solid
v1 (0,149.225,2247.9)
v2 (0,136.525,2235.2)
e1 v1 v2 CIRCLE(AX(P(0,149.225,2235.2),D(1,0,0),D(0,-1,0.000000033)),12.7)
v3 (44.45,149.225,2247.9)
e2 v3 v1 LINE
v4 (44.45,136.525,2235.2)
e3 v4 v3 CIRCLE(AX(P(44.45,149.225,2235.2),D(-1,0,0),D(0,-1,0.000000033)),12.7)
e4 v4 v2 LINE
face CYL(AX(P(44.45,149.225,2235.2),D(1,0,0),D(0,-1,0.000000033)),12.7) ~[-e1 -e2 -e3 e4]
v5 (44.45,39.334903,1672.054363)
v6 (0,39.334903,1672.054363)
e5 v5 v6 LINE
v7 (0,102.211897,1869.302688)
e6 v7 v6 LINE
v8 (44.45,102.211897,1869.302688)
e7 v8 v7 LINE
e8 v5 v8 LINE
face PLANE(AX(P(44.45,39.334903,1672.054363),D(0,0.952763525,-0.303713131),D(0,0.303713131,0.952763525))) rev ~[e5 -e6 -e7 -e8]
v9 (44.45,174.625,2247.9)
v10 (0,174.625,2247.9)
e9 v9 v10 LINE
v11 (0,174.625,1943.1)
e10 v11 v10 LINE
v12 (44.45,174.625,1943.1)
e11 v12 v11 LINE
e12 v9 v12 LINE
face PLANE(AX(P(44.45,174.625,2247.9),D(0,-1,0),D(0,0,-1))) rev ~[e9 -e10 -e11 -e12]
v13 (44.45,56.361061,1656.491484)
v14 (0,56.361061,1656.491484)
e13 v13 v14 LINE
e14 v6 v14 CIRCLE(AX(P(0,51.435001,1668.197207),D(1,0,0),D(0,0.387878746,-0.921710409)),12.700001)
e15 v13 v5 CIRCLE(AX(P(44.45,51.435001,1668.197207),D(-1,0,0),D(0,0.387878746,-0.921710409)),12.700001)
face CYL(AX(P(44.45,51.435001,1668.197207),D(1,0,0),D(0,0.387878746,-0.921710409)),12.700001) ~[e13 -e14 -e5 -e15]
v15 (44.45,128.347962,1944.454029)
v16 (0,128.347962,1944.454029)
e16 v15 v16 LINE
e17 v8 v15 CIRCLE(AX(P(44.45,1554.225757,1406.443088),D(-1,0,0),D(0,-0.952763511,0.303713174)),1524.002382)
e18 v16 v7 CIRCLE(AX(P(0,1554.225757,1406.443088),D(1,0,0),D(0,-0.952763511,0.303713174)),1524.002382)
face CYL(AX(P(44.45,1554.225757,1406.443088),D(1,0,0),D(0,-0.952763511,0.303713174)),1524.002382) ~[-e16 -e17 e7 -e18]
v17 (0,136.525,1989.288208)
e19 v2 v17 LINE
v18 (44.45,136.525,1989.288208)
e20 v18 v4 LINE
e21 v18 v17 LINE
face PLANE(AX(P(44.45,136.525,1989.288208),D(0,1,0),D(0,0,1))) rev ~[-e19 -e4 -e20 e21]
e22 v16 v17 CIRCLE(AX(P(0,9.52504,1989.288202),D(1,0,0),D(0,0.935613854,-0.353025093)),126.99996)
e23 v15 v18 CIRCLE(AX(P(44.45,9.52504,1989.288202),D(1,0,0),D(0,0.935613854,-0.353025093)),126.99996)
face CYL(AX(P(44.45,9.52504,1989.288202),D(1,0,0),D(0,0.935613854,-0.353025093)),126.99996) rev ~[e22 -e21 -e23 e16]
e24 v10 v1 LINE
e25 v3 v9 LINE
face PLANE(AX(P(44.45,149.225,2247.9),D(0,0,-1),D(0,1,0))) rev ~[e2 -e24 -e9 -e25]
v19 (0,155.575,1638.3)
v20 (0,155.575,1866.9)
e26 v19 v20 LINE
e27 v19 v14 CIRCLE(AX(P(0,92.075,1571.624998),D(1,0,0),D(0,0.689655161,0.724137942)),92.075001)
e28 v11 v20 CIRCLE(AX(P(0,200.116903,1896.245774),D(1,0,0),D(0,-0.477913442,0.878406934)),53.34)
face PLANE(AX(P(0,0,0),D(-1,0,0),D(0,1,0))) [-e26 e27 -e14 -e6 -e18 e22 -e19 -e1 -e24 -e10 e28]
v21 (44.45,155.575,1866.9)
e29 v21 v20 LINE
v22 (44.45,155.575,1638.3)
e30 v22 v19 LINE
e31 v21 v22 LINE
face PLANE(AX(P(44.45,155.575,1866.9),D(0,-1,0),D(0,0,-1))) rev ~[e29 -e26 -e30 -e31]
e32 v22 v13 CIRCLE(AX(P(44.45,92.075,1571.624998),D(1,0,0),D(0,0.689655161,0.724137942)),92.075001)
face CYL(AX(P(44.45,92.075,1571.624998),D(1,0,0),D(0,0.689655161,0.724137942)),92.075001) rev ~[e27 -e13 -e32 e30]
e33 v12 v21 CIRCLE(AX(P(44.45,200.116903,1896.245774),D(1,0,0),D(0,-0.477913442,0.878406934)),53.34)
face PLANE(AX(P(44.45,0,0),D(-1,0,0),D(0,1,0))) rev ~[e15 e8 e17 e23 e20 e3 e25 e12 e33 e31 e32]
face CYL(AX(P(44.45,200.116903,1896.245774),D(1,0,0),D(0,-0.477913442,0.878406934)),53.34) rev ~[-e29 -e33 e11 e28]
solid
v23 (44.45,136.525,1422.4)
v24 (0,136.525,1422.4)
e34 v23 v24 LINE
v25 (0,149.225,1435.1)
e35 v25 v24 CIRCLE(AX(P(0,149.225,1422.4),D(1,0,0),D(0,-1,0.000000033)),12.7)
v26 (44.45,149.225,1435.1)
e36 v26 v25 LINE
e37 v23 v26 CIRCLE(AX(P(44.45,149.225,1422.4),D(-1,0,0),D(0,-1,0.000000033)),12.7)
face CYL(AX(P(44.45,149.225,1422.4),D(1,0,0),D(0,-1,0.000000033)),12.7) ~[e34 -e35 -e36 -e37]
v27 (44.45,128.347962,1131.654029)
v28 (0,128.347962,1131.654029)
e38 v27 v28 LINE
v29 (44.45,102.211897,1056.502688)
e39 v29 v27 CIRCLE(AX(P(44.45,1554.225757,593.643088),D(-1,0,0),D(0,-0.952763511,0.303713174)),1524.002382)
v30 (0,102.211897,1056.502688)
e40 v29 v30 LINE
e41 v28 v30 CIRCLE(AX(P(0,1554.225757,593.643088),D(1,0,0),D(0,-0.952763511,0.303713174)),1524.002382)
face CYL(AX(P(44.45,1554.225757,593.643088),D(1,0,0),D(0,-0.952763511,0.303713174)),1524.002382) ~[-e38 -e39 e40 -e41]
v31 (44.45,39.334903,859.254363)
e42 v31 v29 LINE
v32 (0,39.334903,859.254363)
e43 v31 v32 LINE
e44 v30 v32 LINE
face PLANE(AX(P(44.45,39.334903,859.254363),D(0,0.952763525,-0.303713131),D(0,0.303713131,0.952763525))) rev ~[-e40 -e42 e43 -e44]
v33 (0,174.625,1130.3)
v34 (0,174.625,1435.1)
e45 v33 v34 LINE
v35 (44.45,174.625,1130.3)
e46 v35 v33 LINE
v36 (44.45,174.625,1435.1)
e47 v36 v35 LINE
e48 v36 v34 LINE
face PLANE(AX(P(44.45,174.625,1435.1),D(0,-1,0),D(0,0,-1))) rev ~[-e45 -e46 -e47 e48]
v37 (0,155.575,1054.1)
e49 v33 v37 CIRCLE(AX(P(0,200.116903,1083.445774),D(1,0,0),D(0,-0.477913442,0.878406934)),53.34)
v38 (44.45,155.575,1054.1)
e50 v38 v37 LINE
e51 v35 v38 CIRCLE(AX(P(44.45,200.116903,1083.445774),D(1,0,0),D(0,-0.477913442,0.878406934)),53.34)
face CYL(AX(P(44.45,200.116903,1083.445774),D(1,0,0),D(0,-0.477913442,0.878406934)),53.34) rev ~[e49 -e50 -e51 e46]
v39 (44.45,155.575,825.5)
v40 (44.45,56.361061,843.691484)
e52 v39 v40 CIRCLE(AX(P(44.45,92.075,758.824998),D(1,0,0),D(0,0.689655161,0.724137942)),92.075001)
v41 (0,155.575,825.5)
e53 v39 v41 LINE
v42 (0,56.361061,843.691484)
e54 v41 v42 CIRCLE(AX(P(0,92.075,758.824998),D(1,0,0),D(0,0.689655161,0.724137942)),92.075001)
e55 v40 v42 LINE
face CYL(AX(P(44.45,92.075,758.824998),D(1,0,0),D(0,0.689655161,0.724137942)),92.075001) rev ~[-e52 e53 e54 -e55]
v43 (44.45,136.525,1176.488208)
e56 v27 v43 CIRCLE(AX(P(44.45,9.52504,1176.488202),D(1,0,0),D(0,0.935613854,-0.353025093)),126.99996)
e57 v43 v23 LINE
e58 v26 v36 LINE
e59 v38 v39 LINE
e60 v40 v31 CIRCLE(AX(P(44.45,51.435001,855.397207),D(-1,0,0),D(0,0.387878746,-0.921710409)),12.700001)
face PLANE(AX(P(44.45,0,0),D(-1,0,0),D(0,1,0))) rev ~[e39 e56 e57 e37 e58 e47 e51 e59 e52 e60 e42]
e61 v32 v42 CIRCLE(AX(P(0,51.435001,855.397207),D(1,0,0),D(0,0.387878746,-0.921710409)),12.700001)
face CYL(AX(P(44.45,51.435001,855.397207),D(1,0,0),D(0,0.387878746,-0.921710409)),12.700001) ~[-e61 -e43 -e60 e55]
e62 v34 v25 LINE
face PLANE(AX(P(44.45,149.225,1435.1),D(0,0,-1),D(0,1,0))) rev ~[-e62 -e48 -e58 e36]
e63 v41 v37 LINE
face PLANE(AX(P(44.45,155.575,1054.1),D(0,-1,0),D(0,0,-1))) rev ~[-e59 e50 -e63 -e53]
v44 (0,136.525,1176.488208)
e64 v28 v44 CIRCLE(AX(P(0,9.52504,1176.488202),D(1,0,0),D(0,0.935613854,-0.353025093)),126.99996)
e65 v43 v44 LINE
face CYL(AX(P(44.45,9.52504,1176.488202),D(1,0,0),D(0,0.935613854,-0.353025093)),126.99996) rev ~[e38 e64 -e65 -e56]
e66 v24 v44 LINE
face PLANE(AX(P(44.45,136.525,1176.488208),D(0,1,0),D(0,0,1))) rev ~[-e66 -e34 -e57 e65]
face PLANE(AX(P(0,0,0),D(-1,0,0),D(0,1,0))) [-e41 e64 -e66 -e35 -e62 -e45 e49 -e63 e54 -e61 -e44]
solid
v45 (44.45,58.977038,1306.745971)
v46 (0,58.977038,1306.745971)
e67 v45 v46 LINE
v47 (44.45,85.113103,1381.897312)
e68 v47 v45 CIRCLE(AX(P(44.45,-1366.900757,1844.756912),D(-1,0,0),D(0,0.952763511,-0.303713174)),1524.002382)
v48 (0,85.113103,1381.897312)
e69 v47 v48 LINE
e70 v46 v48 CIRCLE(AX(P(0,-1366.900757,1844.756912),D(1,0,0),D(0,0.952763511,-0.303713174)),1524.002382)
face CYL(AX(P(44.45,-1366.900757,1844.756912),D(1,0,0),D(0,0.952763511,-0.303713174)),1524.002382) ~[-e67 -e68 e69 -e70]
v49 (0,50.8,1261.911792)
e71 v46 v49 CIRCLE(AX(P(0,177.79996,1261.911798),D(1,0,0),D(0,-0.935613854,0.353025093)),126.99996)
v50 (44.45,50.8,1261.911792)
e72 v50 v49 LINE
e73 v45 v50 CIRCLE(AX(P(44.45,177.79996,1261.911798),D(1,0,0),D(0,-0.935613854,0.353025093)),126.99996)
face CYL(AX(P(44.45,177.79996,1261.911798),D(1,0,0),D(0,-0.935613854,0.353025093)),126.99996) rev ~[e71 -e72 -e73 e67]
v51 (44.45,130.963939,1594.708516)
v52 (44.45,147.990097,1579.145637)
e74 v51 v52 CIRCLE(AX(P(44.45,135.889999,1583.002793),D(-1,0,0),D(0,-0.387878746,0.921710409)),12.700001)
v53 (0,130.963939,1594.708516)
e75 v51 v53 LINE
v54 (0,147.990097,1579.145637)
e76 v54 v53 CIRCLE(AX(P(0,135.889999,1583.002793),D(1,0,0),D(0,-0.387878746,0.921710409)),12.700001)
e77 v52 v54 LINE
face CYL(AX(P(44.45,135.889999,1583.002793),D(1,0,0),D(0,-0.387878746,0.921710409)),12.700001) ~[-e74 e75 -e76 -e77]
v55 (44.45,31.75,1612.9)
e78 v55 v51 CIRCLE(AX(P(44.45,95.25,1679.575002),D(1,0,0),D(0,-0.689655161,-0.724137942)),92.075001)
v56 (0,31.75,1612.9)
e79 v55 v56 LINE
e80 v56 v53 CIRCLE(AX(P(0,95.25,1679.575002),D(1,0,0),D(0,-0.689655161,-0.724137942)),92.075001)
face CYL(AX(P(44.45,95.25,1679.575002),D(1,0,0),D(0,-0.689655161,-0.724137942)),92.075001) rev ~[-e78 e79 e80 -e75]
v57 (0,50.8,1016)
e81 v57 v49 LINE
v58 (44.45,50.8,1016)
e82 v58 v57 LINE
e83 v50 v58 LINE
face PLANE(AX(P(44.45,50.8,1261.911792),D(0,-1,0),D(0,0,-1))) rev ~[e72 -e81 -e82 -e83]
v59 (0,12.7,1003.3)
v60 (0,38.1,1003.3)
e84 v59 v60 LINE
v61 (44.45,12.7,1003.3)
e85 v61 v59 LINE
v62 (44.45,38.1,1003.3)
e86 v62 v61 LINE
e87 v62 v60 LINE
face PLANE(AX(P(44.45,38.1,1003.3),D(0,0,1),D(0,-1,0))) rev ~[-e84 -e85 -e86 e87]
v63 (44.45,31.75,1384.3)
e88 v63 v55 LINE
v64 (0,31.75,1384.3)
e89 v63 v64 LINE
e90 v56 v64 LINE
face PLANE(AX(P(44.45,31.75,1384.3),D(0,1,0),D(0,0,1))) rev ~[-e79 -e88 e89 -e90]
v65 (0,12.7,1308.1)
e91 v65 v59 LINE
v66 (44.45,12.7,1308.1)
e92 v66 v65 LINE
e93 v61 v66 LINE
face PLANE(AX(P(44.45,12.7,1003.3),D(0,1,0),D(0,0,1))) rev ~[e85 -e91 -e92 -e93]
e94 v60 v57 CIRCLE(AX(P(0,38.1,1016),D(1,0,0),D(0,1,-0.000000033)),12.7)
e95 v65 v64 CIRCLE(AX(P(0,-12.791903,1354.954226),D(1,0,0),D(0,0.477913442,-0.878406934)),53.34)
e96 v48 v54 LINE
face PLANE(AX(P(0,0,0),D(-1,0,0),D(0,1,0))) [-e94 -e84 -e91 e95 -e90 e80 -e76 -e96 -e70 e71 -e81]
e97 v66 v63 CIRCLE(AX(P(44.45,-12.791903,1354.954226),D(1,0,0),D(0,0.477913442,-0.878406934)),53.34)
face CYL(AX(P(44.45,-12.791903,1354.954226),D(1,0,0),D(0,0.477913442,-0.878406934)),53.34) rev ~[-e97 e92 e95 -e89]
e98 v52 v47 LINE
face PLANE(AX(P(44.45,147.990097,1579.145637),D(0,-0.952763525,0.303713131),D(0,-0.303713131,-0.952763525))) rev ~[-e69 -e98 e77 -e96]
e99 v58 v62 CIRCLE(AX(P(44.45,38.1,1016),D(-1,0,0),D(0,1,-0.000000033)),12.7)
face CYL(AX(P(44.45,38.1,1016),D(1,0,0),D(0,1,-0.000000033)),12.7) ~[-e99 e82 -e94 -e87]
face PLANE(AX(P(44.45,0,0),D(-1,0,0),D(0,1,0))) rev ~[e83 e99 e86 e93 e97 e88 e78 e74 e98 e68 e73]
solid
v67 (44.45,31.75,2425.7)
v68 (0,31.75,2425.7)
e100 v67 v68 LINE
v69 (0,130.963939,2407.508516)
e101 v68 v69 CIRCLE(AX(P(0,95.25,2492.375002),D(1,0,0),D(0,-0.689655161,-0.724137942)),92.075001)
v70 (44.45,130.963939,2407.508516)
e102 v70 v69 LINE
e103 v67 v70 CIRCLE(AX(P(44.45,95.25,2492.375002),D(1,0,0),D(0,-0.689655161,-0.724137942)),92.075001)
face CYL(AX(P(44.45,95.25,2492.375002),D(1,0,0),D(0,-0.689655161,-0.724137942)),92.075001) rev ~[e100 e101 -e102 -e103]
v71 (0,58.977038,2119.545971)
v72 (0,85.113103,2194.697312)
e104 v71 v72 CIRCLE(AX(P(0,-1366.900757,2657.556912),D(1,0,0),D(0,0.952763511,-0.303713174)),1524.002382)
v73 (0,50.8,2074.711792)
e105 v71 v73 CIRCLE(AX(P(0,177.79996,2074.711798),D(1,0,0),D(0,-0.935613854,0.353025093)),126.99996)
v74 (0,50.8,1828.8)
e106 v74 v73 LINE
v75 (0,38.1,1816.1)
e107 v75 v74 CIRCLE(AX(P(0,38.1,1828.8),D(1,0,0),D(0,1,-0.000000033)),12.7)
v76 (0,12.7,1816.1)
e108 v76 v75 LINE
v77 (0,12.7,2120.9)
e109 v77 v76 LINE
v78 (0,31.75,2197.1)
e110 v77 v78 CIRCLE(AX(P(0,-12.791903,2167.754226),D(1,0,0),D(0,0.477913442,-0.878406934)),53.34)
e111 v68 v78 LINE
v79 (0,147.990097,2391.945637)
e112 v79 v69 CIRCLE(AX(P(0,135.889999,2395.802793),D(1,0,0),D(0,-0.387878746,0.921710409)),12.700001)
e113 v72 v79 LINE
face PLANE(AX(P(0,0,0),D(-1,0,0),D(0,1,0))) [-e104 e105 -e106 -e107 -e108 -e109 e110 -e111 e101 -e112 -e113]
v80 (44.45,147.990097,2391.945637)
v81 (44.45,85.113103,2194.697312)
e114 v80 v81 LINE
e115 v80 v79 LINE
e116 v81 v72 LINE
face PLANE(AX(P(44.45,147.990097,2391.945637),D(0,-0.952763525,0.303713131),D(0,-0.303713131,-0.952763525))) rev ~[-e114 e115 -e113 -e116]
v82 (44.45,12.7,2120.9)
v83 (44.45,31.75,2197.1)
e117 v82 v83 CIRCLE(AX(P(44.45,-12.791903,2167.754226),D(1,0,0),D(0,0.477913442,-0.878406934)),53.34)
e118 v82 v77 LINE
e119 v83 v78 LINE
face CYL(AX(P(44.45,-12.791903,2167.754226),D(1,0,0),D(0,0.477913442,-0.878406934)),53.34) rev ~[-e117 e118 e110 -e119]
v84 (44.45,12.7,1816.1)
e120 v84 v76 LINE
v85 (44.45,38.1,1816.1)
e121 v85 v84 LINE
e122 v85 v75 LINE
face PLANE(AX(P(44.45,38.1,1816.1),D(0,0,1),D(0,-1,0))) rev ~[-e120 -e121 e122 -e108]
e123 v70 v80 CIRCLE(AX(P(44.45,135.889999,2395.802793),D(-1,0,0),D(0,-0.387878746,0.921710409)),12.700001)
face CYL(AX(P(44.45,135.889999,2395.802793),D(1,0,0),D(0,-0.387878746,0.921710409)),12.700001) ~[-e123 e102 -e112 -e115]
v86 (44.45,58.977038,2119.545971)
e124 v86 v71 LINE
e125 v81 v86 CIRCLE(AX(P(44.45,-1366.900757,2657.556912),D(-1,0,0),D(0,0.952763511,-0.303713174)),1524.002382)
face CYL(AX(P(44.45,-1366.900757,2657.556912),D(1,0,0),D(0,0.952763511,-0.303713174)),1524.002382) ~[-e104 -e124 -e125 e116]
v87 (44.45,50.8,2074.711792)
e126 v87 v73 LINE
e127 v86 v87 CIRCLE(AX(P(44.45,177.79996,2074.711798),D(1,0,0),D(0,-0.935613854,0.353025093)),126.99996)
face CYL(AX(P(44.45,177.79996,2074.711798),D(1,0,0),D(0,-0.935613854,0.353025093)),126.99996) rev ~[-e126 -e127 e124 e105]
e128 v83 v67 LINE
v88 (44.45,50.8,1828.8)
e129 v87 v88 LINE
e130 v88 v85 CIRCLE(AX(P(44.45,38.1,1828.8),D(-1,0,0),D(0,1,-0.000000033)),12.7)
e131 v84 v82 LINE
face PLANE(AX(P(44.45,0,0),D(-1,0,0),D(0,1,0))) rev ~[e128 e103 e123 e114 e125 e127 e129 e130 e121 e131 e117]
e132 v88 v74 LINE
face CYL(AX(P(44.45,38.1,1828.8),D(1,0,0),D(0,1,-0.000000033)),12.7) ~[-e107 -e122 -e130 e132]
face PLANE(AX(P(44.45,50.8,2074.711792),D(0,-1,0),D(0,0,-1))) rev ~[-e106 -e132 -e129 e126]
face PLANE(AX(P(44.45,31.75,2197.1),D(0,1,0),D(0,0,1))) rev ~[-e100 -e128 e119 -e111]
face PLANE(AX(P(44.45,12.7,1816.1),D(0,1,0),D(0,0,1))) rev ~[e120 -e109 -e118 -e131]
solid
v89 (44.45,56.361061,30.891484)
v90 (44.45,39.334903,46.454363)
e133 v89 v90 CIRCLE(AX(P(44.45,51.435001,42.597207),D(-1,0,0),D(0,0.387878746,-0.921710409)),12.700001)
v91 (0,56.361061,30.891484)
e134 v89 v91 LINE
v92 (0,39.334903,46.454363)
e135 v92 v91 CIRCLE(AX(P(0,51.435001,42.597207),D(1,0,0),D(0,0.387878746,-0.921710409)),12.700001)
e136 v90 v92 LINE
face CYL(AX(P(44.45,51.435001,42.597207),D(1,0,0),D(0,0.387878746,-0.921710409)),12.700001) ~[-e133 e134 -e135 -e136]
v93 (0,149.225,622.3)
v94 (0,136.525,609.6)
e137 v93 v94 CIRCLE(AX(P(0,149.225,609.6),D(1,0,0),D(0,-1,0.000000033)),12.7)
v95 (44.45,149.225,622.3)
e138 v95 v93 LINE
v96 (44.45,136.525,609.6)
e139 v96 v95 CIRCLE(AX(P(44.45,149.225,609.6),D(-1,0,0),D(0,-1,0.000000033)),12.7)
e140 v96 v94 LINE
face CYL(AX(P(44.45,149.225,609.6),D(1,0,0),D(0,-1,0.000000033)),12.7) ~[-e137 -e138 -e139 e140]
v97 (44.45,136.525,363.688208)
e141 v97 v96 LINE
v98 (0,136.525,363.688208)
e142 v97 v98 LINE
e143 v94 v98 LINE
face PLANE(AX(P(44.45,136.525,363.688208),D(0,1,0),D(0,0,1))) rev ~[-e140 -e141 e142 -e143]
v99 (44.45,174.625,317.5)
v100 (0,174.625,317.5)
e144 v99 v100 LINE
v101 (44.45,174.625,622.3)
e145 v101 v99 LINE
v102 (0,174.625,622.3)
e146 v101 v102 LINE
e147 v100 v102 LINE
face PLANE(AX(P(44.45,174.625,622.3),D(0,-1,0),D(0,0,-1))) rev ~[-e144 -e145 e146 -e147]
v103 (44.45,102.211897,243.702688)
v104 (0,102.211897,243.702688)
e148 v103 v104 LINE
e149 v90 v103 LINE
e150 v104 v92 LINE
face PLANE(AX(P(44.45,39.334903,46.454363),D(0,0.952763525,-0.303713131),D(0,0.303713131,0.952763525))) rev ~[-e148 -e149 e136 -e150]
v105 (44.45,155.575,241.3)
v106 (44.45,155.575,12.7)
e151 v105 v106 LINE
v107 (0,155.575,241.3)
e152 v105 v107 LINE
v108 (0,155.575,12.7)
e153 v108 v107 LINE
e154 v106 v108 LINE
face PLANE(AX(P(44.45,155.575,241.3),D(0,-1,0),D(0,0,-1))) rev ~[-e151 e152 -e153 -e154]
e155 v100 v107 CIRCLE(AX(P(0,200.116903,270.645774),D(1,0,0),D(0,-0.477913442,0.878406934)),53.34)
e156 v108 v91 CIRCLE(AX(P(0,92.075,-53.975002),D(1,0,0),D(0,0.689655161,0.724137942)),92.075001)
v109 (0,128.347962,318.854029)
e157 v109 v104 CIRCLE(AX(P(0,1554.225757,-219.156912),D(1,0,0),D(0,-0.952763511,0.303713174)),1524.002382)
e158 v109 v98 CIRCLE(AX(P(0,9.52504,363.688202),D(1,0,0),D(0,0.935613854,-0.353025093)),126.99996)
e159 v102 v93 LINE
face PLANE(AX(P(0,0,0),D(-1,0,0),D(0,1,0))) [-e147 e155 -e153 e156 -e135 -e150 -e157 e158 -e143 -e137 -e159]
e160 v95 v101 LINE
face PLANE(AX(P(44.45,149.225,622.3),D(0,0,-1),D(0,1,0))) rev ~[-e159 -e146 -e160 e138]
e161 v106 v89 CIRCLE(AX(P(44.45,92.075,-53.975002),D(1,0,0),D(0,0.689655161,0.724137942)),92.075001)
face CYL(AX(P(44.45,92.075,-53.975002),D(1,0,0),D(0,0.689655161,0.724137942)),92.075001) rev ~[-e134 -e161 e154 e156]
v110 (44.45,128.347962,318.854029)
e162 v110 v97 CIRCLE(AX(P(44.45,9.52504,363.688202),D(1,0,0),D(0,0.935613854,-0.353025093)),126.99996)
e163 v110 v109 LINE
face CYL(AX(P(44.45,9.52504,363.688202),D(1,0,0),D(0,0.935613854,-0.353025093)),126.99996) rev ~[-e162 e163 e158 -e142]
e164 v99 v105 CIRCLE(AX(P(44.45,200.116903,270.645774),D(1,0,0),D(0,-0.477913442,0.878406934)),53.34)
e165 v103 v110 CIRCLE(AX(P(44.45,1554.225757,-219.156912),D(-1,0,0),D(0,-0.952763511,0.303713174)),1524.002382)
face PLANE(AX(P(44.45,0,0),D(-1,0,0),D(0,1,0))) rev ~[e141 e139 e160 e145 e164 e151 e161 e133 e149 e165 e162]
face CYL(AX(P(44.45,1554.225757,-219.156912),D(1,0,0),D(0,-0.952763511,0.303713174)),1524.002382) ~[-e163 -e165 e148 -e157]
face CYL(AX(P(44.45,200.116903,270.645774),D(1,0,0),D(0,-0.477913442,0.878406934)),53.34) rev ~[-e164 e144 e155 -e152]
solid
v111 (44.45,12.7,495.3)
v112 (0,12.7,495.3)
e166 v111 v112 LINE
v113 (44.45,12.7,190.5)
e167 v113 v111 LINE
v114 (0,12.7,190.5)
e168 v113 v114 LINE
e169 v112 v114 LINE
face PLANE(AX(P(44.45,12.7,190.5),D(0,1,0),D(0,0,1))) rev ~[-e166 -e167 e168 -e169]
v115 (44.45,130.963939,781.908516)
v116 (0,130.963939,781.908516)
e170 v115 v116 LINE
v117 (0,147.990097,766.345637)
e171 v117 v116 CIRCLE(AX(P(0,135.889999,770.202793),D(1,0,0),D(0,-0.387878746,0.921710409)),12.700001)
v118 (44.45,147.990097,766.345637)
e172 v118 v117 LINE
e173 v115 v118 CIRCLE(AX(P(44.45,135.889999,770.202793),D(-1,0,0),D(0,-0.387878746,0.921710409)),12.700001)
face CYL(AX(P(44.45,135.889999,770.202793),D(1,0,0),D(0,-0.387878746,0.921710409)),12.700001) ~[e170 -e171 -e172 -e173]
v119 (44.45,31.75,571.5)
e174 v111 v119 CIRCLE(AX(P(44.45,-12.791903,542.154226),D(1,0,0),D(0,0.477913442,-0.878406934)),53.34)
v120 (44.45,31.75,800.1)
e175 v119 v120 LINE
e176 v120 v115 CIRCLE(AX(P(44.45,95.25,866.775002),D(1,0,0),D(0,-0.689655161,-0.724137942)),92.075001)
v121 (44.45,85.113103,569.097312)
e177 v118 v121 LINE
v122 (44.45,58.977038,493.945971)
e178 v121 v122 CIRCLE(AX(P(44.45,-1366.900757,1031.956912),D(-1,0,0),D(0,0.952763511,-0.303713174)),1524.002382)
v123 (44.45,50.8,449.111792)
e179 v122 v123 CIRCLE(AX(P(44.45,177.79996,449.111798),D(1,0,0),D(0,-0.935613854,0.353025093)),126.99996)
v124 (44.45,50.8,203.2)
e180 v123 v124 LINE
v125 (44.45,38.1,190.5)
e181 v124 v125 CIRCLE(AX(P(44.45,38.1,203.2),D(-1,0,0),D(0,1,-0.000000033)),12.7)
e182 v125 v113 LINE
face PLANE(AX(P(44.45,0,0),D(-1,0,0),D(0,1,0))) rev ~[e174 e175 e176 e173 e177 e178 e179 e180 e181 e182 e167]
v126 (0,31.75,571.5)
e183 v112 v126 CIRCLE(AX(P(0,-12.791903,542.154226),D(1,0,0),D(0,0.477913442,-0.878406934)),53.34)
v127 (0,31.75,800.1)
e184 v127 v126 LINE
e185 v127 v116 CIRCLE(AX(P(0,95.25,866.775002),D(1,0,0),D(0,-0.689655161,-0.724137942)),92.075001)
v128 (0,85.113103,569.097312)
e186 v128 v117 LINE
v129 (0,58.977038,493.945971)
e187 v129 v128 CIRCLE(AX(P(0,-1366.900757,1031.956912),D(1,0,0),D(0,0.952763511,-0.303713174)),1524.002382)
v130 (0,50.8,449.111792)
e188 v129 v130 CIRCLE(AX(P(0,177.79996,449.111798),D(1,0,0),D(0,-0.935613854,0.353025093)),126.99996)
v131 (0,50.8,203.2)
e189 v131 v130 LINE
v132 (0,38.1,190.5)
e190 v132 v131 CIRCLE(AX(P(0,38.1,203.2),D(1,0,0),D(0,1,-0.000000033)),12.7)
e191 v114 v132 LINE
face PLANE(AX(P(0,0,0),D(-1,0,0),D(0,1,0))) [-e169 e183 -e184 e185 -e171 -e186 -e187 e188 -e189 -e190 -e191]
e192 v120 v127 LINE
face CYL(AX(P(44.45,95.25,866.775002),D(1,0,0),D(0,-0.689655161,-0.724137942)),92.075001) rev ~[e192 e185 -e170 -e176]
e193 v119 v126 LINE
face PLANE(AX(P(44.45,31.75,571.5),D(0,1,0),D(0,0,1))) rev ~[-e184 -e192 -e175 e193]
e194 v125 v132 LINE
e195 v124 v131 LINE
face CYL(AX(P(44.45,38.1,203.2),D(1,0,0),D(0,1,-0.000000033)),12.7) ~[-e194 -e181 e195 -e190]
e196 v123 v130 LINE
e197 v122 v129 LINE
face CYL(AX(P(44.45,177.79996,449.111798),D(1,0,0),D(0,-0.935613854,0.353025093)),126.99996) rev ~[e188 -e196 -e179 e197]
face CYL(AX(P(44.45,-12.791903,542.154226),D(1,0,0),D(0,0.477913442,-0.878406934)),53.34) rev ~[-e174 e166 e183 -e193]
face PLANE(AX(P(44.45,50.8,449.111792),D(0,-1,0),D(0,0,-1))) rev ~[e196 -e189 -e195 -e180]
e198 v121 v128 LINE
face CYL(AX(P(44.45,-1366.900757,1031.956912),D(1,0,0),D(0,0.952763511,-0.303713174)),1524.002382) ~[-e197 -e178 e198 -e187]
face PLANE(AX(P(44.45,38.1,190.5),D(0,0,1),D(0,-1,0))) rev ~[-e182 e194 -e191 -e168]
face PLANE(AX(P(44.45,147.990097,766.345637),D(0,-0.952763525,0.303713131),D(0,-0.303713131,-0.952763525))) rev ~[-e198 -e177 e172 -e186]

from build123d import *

# Parameters (mm, degrees)
F0_W     = 44.45
F0_H     = 184.15
F1_DEPTH = 2438.4
F2_W     = 184.15
F2_H     = 2438.4
F3_DEPTH = 44.451


with BuildPart() as f1:
    # F0 (on Top) → F1 (new body)
    with BuildSketch(Plane.XY):
        with Locations((22.225, 92.075)):
            Rectangle(F0_W, F0_H)
    extrude(amount=F1_DEPTH)

    # F2 (on face) → F3 (cut, through all)
    with BuildSketch(Plane.YZ.offset(44.45)):
        with Locations((92.075, 1219.2)):
            Rectangle(F2_W, F2_H)
        with BuildLine():
            Line((50.8, 449.111792), (50.8, 203.2))
            ThreePointArc((50.8, 203.2), (47.080256, 194.219744), (38.1, 190.5))
            Line((38.1, 190.5), (12.7, 190.5))
            Line((12.7, 190.5), (12.7, 495.3))
            ThreePointArc((12.7, 495.3), (38.955498, 529.217376), (31.75, 571.5))
            Line((31.75, 571.5), (31.75, 800.1))
            ThreePointArc((31.75, 800.1), (78.644314, 776.209793), (130.963939, 781.908516))
            ThreePointArc((130.963939, 781.908516), (144.458401, 779.576827), (147.990097, 766.345637))
            Line((147.990097, 766.345637), (85.113103, 569.097312))
            ThreePointArc((85.113103, 569.097312), (72.5356, 531.351046), (58.977038, 493.945971))
            ThreePointArc((58.977038, 493.945971), (52.860982, 471.898672), (50.8, 449.111792))
        make_face(mode=Mode.SUBTRACT)
        with BuildLine():
            Line((149.225, 622.3), (174.625, 622.3))
            Line((174.625, 622.3), (174.625, 317.5))
            ThreePointArc((174.625, 317.5), (148.369502, 283.582624), (155.575, 241.3))
            Line((155.575, 241.3), (155.575, 12.7))
            ThreePointArc((155.575, 12.7), (108.680686, 36.590207), (56.361061, 30.891484))
            ThreePointArc((56.361061, 30.891484), (42.866599, 33.223173), (39.334903, 46.454363))
            Line((39.334903, 46.454363), (102.211897, 243.702688))
            ThreePointArc((102.211897, 243.702688), (114.7894, 281.448954), (128.347962, 318.854029))
            ThreePointArc((128.347962, 318.854029), (134.464018, 340.901328), (136.525, 363.688208))
            Line((136.525, 363.688208), (136.525, 609.6))
            ThreePointArc((136.525, 609.6), (140.244744, 618.580256), (149.225, 622.3))
        make_face(mode=Mode.SUBTRACT)
        with BuildLine():
            Line((136.525, 1176.488208), (136.525, 1422.4))
            ThreePointArc((136.525, 1422.4), (140.244744, 1431.380256), (149.225, 1435.1))
            Line((149.225, 1435.1), (174.625, 1435.1))
            Line((174.625, 1435.1), (174.625, 1130.3))
            ThreePointArc((174.625, 1130.3), (148.369502, 1096.382624), (155.575, 1054.1))
            Line((155.575, 1054.1), (155.575, 825.5))
            ThreePointArc((155.575, 825.5), (108.680686, 849.390207), (56.361061, 843.691484))
            ThreePointArc((56.361061, 843.691484), (42.866599, 846.023173), (39.334903, 859.254363))
            Line((39.334903, 859.254363), (102.211897, 1056.502688))
            ThreePointArc((102.211897, 1056.502688), (114.7894, 1094.248954), (128.347962, 1131.654029))
            ThreePointArc((128.347962, 1131.654029), (134.464018, 1153.701328), (136.525, 1176.488208))
        make_face(mode=Mode.SUBTRACT)
        with BuildLine():
            Line((50.8, 1261.911792), (50.8, 1016))
            ThreePointArc((50.8, 1016), (47.080256, 1007.019744), (38.1, 1003.3))
            Line((38.1, 1003.3), (12.7, 1003.3))
            Line((12.7, 1003.3), (12.7, 1308.1))
            ThreePointArc((12.7, 1308.1), (38.955498, 1342.017376), (31.75, 1384.3))
            Line((31.75, 1384.3), (31.75, 1612.9))
            ThreePointArc((31.75, 1612.9), (78.644314, 1589.009793), (130.963939, 1594.708516))
            ThreePointArc((130.963939, 1594.708516), (144.458401, 1592.376827), (147.990097, 1579.145637))
            Line((147.990097, 1579.145637), (85.113103, 1381.897312))
            ThreePointArc((85.113103, 1381.897312), (72.5356, 1344.151046), (58.977038, 1306.745971))
            ThreePointArc((58.977038, 1306.745971), (52.860982, 1284.698672), (50.8, 1261.911792))
        make_face(mode=Mode.SUBTRACT)
        with BuildLine():
            Line((38.1, 1816.1), (12.7, 1816.1))
            Line((12.7, 1816.1), (12.7, 2120.9))
            ThreePointArc((12.7, 2120.9), (38.955498, 2154.817376), (31.75, 2197.1))
            Line((31.75, 2197.1), (31.75, 2425.7))
            ThreePointArc((31.75, 2425.7), (78.644314, 2401.809793), (130.963939, 2407.508516))
            ThreePointArc((130.963939, 2407.508516), (144.458401, 2405.176827), (147.990097, 2391.945637))
            Line((147.990097, 2391.945637), (85.113103, 2194.697312))
            ThreePointArc((85.113103, 2194.697312), (72.5356, 2156.951046), (58.977038, 2119.545971))
            ThreePointArc((58.977038, 2119.545971), (52.860982, 2097.498672), (50.8, 2074.711792))
            Line((50.8, 2074.711792), (50.8, 1828.8))
            ThreePointArc((50.8, 1828.8), (47.080256, 1819.819744), (38.1, 1816.1))
        make_face(mode=Mode.SUBTRACT)
        with BuildLine():
            Line((149.225, 2247.9), (174.625, 2247.9))
            Line((174.625, 2247.9), (174.625, 1943.1))
            ThreePointArc((174.625, 1943.1), (148.369502, 1909.182624), (155.575, 1866.9))
            Line((155.575, 1866.9), (155.575, 1638.3))
            ThreePointArc((155.575, 1638.3), (108.680686, 1662.190207), (56.361061, 1656.491484))
            ThreePointArc((56.361061, 1656.491484), (42.866599, 1658.823173), (39.334903, 1672.054363))
            Line((39.334903, 1672.054363), (102.211897, 1869.302688))
            ThreePointArc((102.211897, 1869.302688), (114.7894, 1907.048954), (128.347962, 1944.454029))
            ThreePointArc((128.347962, 1944.454029), (134.464018, 1966.501328), (136.525, 1989.288208))
            Line((136.525, 1989.288208), (136.525, 2235.2))
            ThreePointArc((136.525, 2235.2), (140.244744, 2244.180256), (149.225, 2247.9))
        make_face(mode=Mode.SUBTRACT)
    extrude(amount=-F3_DEPTH, mode=Mode.SUBTRACT)


solid = f1.part
